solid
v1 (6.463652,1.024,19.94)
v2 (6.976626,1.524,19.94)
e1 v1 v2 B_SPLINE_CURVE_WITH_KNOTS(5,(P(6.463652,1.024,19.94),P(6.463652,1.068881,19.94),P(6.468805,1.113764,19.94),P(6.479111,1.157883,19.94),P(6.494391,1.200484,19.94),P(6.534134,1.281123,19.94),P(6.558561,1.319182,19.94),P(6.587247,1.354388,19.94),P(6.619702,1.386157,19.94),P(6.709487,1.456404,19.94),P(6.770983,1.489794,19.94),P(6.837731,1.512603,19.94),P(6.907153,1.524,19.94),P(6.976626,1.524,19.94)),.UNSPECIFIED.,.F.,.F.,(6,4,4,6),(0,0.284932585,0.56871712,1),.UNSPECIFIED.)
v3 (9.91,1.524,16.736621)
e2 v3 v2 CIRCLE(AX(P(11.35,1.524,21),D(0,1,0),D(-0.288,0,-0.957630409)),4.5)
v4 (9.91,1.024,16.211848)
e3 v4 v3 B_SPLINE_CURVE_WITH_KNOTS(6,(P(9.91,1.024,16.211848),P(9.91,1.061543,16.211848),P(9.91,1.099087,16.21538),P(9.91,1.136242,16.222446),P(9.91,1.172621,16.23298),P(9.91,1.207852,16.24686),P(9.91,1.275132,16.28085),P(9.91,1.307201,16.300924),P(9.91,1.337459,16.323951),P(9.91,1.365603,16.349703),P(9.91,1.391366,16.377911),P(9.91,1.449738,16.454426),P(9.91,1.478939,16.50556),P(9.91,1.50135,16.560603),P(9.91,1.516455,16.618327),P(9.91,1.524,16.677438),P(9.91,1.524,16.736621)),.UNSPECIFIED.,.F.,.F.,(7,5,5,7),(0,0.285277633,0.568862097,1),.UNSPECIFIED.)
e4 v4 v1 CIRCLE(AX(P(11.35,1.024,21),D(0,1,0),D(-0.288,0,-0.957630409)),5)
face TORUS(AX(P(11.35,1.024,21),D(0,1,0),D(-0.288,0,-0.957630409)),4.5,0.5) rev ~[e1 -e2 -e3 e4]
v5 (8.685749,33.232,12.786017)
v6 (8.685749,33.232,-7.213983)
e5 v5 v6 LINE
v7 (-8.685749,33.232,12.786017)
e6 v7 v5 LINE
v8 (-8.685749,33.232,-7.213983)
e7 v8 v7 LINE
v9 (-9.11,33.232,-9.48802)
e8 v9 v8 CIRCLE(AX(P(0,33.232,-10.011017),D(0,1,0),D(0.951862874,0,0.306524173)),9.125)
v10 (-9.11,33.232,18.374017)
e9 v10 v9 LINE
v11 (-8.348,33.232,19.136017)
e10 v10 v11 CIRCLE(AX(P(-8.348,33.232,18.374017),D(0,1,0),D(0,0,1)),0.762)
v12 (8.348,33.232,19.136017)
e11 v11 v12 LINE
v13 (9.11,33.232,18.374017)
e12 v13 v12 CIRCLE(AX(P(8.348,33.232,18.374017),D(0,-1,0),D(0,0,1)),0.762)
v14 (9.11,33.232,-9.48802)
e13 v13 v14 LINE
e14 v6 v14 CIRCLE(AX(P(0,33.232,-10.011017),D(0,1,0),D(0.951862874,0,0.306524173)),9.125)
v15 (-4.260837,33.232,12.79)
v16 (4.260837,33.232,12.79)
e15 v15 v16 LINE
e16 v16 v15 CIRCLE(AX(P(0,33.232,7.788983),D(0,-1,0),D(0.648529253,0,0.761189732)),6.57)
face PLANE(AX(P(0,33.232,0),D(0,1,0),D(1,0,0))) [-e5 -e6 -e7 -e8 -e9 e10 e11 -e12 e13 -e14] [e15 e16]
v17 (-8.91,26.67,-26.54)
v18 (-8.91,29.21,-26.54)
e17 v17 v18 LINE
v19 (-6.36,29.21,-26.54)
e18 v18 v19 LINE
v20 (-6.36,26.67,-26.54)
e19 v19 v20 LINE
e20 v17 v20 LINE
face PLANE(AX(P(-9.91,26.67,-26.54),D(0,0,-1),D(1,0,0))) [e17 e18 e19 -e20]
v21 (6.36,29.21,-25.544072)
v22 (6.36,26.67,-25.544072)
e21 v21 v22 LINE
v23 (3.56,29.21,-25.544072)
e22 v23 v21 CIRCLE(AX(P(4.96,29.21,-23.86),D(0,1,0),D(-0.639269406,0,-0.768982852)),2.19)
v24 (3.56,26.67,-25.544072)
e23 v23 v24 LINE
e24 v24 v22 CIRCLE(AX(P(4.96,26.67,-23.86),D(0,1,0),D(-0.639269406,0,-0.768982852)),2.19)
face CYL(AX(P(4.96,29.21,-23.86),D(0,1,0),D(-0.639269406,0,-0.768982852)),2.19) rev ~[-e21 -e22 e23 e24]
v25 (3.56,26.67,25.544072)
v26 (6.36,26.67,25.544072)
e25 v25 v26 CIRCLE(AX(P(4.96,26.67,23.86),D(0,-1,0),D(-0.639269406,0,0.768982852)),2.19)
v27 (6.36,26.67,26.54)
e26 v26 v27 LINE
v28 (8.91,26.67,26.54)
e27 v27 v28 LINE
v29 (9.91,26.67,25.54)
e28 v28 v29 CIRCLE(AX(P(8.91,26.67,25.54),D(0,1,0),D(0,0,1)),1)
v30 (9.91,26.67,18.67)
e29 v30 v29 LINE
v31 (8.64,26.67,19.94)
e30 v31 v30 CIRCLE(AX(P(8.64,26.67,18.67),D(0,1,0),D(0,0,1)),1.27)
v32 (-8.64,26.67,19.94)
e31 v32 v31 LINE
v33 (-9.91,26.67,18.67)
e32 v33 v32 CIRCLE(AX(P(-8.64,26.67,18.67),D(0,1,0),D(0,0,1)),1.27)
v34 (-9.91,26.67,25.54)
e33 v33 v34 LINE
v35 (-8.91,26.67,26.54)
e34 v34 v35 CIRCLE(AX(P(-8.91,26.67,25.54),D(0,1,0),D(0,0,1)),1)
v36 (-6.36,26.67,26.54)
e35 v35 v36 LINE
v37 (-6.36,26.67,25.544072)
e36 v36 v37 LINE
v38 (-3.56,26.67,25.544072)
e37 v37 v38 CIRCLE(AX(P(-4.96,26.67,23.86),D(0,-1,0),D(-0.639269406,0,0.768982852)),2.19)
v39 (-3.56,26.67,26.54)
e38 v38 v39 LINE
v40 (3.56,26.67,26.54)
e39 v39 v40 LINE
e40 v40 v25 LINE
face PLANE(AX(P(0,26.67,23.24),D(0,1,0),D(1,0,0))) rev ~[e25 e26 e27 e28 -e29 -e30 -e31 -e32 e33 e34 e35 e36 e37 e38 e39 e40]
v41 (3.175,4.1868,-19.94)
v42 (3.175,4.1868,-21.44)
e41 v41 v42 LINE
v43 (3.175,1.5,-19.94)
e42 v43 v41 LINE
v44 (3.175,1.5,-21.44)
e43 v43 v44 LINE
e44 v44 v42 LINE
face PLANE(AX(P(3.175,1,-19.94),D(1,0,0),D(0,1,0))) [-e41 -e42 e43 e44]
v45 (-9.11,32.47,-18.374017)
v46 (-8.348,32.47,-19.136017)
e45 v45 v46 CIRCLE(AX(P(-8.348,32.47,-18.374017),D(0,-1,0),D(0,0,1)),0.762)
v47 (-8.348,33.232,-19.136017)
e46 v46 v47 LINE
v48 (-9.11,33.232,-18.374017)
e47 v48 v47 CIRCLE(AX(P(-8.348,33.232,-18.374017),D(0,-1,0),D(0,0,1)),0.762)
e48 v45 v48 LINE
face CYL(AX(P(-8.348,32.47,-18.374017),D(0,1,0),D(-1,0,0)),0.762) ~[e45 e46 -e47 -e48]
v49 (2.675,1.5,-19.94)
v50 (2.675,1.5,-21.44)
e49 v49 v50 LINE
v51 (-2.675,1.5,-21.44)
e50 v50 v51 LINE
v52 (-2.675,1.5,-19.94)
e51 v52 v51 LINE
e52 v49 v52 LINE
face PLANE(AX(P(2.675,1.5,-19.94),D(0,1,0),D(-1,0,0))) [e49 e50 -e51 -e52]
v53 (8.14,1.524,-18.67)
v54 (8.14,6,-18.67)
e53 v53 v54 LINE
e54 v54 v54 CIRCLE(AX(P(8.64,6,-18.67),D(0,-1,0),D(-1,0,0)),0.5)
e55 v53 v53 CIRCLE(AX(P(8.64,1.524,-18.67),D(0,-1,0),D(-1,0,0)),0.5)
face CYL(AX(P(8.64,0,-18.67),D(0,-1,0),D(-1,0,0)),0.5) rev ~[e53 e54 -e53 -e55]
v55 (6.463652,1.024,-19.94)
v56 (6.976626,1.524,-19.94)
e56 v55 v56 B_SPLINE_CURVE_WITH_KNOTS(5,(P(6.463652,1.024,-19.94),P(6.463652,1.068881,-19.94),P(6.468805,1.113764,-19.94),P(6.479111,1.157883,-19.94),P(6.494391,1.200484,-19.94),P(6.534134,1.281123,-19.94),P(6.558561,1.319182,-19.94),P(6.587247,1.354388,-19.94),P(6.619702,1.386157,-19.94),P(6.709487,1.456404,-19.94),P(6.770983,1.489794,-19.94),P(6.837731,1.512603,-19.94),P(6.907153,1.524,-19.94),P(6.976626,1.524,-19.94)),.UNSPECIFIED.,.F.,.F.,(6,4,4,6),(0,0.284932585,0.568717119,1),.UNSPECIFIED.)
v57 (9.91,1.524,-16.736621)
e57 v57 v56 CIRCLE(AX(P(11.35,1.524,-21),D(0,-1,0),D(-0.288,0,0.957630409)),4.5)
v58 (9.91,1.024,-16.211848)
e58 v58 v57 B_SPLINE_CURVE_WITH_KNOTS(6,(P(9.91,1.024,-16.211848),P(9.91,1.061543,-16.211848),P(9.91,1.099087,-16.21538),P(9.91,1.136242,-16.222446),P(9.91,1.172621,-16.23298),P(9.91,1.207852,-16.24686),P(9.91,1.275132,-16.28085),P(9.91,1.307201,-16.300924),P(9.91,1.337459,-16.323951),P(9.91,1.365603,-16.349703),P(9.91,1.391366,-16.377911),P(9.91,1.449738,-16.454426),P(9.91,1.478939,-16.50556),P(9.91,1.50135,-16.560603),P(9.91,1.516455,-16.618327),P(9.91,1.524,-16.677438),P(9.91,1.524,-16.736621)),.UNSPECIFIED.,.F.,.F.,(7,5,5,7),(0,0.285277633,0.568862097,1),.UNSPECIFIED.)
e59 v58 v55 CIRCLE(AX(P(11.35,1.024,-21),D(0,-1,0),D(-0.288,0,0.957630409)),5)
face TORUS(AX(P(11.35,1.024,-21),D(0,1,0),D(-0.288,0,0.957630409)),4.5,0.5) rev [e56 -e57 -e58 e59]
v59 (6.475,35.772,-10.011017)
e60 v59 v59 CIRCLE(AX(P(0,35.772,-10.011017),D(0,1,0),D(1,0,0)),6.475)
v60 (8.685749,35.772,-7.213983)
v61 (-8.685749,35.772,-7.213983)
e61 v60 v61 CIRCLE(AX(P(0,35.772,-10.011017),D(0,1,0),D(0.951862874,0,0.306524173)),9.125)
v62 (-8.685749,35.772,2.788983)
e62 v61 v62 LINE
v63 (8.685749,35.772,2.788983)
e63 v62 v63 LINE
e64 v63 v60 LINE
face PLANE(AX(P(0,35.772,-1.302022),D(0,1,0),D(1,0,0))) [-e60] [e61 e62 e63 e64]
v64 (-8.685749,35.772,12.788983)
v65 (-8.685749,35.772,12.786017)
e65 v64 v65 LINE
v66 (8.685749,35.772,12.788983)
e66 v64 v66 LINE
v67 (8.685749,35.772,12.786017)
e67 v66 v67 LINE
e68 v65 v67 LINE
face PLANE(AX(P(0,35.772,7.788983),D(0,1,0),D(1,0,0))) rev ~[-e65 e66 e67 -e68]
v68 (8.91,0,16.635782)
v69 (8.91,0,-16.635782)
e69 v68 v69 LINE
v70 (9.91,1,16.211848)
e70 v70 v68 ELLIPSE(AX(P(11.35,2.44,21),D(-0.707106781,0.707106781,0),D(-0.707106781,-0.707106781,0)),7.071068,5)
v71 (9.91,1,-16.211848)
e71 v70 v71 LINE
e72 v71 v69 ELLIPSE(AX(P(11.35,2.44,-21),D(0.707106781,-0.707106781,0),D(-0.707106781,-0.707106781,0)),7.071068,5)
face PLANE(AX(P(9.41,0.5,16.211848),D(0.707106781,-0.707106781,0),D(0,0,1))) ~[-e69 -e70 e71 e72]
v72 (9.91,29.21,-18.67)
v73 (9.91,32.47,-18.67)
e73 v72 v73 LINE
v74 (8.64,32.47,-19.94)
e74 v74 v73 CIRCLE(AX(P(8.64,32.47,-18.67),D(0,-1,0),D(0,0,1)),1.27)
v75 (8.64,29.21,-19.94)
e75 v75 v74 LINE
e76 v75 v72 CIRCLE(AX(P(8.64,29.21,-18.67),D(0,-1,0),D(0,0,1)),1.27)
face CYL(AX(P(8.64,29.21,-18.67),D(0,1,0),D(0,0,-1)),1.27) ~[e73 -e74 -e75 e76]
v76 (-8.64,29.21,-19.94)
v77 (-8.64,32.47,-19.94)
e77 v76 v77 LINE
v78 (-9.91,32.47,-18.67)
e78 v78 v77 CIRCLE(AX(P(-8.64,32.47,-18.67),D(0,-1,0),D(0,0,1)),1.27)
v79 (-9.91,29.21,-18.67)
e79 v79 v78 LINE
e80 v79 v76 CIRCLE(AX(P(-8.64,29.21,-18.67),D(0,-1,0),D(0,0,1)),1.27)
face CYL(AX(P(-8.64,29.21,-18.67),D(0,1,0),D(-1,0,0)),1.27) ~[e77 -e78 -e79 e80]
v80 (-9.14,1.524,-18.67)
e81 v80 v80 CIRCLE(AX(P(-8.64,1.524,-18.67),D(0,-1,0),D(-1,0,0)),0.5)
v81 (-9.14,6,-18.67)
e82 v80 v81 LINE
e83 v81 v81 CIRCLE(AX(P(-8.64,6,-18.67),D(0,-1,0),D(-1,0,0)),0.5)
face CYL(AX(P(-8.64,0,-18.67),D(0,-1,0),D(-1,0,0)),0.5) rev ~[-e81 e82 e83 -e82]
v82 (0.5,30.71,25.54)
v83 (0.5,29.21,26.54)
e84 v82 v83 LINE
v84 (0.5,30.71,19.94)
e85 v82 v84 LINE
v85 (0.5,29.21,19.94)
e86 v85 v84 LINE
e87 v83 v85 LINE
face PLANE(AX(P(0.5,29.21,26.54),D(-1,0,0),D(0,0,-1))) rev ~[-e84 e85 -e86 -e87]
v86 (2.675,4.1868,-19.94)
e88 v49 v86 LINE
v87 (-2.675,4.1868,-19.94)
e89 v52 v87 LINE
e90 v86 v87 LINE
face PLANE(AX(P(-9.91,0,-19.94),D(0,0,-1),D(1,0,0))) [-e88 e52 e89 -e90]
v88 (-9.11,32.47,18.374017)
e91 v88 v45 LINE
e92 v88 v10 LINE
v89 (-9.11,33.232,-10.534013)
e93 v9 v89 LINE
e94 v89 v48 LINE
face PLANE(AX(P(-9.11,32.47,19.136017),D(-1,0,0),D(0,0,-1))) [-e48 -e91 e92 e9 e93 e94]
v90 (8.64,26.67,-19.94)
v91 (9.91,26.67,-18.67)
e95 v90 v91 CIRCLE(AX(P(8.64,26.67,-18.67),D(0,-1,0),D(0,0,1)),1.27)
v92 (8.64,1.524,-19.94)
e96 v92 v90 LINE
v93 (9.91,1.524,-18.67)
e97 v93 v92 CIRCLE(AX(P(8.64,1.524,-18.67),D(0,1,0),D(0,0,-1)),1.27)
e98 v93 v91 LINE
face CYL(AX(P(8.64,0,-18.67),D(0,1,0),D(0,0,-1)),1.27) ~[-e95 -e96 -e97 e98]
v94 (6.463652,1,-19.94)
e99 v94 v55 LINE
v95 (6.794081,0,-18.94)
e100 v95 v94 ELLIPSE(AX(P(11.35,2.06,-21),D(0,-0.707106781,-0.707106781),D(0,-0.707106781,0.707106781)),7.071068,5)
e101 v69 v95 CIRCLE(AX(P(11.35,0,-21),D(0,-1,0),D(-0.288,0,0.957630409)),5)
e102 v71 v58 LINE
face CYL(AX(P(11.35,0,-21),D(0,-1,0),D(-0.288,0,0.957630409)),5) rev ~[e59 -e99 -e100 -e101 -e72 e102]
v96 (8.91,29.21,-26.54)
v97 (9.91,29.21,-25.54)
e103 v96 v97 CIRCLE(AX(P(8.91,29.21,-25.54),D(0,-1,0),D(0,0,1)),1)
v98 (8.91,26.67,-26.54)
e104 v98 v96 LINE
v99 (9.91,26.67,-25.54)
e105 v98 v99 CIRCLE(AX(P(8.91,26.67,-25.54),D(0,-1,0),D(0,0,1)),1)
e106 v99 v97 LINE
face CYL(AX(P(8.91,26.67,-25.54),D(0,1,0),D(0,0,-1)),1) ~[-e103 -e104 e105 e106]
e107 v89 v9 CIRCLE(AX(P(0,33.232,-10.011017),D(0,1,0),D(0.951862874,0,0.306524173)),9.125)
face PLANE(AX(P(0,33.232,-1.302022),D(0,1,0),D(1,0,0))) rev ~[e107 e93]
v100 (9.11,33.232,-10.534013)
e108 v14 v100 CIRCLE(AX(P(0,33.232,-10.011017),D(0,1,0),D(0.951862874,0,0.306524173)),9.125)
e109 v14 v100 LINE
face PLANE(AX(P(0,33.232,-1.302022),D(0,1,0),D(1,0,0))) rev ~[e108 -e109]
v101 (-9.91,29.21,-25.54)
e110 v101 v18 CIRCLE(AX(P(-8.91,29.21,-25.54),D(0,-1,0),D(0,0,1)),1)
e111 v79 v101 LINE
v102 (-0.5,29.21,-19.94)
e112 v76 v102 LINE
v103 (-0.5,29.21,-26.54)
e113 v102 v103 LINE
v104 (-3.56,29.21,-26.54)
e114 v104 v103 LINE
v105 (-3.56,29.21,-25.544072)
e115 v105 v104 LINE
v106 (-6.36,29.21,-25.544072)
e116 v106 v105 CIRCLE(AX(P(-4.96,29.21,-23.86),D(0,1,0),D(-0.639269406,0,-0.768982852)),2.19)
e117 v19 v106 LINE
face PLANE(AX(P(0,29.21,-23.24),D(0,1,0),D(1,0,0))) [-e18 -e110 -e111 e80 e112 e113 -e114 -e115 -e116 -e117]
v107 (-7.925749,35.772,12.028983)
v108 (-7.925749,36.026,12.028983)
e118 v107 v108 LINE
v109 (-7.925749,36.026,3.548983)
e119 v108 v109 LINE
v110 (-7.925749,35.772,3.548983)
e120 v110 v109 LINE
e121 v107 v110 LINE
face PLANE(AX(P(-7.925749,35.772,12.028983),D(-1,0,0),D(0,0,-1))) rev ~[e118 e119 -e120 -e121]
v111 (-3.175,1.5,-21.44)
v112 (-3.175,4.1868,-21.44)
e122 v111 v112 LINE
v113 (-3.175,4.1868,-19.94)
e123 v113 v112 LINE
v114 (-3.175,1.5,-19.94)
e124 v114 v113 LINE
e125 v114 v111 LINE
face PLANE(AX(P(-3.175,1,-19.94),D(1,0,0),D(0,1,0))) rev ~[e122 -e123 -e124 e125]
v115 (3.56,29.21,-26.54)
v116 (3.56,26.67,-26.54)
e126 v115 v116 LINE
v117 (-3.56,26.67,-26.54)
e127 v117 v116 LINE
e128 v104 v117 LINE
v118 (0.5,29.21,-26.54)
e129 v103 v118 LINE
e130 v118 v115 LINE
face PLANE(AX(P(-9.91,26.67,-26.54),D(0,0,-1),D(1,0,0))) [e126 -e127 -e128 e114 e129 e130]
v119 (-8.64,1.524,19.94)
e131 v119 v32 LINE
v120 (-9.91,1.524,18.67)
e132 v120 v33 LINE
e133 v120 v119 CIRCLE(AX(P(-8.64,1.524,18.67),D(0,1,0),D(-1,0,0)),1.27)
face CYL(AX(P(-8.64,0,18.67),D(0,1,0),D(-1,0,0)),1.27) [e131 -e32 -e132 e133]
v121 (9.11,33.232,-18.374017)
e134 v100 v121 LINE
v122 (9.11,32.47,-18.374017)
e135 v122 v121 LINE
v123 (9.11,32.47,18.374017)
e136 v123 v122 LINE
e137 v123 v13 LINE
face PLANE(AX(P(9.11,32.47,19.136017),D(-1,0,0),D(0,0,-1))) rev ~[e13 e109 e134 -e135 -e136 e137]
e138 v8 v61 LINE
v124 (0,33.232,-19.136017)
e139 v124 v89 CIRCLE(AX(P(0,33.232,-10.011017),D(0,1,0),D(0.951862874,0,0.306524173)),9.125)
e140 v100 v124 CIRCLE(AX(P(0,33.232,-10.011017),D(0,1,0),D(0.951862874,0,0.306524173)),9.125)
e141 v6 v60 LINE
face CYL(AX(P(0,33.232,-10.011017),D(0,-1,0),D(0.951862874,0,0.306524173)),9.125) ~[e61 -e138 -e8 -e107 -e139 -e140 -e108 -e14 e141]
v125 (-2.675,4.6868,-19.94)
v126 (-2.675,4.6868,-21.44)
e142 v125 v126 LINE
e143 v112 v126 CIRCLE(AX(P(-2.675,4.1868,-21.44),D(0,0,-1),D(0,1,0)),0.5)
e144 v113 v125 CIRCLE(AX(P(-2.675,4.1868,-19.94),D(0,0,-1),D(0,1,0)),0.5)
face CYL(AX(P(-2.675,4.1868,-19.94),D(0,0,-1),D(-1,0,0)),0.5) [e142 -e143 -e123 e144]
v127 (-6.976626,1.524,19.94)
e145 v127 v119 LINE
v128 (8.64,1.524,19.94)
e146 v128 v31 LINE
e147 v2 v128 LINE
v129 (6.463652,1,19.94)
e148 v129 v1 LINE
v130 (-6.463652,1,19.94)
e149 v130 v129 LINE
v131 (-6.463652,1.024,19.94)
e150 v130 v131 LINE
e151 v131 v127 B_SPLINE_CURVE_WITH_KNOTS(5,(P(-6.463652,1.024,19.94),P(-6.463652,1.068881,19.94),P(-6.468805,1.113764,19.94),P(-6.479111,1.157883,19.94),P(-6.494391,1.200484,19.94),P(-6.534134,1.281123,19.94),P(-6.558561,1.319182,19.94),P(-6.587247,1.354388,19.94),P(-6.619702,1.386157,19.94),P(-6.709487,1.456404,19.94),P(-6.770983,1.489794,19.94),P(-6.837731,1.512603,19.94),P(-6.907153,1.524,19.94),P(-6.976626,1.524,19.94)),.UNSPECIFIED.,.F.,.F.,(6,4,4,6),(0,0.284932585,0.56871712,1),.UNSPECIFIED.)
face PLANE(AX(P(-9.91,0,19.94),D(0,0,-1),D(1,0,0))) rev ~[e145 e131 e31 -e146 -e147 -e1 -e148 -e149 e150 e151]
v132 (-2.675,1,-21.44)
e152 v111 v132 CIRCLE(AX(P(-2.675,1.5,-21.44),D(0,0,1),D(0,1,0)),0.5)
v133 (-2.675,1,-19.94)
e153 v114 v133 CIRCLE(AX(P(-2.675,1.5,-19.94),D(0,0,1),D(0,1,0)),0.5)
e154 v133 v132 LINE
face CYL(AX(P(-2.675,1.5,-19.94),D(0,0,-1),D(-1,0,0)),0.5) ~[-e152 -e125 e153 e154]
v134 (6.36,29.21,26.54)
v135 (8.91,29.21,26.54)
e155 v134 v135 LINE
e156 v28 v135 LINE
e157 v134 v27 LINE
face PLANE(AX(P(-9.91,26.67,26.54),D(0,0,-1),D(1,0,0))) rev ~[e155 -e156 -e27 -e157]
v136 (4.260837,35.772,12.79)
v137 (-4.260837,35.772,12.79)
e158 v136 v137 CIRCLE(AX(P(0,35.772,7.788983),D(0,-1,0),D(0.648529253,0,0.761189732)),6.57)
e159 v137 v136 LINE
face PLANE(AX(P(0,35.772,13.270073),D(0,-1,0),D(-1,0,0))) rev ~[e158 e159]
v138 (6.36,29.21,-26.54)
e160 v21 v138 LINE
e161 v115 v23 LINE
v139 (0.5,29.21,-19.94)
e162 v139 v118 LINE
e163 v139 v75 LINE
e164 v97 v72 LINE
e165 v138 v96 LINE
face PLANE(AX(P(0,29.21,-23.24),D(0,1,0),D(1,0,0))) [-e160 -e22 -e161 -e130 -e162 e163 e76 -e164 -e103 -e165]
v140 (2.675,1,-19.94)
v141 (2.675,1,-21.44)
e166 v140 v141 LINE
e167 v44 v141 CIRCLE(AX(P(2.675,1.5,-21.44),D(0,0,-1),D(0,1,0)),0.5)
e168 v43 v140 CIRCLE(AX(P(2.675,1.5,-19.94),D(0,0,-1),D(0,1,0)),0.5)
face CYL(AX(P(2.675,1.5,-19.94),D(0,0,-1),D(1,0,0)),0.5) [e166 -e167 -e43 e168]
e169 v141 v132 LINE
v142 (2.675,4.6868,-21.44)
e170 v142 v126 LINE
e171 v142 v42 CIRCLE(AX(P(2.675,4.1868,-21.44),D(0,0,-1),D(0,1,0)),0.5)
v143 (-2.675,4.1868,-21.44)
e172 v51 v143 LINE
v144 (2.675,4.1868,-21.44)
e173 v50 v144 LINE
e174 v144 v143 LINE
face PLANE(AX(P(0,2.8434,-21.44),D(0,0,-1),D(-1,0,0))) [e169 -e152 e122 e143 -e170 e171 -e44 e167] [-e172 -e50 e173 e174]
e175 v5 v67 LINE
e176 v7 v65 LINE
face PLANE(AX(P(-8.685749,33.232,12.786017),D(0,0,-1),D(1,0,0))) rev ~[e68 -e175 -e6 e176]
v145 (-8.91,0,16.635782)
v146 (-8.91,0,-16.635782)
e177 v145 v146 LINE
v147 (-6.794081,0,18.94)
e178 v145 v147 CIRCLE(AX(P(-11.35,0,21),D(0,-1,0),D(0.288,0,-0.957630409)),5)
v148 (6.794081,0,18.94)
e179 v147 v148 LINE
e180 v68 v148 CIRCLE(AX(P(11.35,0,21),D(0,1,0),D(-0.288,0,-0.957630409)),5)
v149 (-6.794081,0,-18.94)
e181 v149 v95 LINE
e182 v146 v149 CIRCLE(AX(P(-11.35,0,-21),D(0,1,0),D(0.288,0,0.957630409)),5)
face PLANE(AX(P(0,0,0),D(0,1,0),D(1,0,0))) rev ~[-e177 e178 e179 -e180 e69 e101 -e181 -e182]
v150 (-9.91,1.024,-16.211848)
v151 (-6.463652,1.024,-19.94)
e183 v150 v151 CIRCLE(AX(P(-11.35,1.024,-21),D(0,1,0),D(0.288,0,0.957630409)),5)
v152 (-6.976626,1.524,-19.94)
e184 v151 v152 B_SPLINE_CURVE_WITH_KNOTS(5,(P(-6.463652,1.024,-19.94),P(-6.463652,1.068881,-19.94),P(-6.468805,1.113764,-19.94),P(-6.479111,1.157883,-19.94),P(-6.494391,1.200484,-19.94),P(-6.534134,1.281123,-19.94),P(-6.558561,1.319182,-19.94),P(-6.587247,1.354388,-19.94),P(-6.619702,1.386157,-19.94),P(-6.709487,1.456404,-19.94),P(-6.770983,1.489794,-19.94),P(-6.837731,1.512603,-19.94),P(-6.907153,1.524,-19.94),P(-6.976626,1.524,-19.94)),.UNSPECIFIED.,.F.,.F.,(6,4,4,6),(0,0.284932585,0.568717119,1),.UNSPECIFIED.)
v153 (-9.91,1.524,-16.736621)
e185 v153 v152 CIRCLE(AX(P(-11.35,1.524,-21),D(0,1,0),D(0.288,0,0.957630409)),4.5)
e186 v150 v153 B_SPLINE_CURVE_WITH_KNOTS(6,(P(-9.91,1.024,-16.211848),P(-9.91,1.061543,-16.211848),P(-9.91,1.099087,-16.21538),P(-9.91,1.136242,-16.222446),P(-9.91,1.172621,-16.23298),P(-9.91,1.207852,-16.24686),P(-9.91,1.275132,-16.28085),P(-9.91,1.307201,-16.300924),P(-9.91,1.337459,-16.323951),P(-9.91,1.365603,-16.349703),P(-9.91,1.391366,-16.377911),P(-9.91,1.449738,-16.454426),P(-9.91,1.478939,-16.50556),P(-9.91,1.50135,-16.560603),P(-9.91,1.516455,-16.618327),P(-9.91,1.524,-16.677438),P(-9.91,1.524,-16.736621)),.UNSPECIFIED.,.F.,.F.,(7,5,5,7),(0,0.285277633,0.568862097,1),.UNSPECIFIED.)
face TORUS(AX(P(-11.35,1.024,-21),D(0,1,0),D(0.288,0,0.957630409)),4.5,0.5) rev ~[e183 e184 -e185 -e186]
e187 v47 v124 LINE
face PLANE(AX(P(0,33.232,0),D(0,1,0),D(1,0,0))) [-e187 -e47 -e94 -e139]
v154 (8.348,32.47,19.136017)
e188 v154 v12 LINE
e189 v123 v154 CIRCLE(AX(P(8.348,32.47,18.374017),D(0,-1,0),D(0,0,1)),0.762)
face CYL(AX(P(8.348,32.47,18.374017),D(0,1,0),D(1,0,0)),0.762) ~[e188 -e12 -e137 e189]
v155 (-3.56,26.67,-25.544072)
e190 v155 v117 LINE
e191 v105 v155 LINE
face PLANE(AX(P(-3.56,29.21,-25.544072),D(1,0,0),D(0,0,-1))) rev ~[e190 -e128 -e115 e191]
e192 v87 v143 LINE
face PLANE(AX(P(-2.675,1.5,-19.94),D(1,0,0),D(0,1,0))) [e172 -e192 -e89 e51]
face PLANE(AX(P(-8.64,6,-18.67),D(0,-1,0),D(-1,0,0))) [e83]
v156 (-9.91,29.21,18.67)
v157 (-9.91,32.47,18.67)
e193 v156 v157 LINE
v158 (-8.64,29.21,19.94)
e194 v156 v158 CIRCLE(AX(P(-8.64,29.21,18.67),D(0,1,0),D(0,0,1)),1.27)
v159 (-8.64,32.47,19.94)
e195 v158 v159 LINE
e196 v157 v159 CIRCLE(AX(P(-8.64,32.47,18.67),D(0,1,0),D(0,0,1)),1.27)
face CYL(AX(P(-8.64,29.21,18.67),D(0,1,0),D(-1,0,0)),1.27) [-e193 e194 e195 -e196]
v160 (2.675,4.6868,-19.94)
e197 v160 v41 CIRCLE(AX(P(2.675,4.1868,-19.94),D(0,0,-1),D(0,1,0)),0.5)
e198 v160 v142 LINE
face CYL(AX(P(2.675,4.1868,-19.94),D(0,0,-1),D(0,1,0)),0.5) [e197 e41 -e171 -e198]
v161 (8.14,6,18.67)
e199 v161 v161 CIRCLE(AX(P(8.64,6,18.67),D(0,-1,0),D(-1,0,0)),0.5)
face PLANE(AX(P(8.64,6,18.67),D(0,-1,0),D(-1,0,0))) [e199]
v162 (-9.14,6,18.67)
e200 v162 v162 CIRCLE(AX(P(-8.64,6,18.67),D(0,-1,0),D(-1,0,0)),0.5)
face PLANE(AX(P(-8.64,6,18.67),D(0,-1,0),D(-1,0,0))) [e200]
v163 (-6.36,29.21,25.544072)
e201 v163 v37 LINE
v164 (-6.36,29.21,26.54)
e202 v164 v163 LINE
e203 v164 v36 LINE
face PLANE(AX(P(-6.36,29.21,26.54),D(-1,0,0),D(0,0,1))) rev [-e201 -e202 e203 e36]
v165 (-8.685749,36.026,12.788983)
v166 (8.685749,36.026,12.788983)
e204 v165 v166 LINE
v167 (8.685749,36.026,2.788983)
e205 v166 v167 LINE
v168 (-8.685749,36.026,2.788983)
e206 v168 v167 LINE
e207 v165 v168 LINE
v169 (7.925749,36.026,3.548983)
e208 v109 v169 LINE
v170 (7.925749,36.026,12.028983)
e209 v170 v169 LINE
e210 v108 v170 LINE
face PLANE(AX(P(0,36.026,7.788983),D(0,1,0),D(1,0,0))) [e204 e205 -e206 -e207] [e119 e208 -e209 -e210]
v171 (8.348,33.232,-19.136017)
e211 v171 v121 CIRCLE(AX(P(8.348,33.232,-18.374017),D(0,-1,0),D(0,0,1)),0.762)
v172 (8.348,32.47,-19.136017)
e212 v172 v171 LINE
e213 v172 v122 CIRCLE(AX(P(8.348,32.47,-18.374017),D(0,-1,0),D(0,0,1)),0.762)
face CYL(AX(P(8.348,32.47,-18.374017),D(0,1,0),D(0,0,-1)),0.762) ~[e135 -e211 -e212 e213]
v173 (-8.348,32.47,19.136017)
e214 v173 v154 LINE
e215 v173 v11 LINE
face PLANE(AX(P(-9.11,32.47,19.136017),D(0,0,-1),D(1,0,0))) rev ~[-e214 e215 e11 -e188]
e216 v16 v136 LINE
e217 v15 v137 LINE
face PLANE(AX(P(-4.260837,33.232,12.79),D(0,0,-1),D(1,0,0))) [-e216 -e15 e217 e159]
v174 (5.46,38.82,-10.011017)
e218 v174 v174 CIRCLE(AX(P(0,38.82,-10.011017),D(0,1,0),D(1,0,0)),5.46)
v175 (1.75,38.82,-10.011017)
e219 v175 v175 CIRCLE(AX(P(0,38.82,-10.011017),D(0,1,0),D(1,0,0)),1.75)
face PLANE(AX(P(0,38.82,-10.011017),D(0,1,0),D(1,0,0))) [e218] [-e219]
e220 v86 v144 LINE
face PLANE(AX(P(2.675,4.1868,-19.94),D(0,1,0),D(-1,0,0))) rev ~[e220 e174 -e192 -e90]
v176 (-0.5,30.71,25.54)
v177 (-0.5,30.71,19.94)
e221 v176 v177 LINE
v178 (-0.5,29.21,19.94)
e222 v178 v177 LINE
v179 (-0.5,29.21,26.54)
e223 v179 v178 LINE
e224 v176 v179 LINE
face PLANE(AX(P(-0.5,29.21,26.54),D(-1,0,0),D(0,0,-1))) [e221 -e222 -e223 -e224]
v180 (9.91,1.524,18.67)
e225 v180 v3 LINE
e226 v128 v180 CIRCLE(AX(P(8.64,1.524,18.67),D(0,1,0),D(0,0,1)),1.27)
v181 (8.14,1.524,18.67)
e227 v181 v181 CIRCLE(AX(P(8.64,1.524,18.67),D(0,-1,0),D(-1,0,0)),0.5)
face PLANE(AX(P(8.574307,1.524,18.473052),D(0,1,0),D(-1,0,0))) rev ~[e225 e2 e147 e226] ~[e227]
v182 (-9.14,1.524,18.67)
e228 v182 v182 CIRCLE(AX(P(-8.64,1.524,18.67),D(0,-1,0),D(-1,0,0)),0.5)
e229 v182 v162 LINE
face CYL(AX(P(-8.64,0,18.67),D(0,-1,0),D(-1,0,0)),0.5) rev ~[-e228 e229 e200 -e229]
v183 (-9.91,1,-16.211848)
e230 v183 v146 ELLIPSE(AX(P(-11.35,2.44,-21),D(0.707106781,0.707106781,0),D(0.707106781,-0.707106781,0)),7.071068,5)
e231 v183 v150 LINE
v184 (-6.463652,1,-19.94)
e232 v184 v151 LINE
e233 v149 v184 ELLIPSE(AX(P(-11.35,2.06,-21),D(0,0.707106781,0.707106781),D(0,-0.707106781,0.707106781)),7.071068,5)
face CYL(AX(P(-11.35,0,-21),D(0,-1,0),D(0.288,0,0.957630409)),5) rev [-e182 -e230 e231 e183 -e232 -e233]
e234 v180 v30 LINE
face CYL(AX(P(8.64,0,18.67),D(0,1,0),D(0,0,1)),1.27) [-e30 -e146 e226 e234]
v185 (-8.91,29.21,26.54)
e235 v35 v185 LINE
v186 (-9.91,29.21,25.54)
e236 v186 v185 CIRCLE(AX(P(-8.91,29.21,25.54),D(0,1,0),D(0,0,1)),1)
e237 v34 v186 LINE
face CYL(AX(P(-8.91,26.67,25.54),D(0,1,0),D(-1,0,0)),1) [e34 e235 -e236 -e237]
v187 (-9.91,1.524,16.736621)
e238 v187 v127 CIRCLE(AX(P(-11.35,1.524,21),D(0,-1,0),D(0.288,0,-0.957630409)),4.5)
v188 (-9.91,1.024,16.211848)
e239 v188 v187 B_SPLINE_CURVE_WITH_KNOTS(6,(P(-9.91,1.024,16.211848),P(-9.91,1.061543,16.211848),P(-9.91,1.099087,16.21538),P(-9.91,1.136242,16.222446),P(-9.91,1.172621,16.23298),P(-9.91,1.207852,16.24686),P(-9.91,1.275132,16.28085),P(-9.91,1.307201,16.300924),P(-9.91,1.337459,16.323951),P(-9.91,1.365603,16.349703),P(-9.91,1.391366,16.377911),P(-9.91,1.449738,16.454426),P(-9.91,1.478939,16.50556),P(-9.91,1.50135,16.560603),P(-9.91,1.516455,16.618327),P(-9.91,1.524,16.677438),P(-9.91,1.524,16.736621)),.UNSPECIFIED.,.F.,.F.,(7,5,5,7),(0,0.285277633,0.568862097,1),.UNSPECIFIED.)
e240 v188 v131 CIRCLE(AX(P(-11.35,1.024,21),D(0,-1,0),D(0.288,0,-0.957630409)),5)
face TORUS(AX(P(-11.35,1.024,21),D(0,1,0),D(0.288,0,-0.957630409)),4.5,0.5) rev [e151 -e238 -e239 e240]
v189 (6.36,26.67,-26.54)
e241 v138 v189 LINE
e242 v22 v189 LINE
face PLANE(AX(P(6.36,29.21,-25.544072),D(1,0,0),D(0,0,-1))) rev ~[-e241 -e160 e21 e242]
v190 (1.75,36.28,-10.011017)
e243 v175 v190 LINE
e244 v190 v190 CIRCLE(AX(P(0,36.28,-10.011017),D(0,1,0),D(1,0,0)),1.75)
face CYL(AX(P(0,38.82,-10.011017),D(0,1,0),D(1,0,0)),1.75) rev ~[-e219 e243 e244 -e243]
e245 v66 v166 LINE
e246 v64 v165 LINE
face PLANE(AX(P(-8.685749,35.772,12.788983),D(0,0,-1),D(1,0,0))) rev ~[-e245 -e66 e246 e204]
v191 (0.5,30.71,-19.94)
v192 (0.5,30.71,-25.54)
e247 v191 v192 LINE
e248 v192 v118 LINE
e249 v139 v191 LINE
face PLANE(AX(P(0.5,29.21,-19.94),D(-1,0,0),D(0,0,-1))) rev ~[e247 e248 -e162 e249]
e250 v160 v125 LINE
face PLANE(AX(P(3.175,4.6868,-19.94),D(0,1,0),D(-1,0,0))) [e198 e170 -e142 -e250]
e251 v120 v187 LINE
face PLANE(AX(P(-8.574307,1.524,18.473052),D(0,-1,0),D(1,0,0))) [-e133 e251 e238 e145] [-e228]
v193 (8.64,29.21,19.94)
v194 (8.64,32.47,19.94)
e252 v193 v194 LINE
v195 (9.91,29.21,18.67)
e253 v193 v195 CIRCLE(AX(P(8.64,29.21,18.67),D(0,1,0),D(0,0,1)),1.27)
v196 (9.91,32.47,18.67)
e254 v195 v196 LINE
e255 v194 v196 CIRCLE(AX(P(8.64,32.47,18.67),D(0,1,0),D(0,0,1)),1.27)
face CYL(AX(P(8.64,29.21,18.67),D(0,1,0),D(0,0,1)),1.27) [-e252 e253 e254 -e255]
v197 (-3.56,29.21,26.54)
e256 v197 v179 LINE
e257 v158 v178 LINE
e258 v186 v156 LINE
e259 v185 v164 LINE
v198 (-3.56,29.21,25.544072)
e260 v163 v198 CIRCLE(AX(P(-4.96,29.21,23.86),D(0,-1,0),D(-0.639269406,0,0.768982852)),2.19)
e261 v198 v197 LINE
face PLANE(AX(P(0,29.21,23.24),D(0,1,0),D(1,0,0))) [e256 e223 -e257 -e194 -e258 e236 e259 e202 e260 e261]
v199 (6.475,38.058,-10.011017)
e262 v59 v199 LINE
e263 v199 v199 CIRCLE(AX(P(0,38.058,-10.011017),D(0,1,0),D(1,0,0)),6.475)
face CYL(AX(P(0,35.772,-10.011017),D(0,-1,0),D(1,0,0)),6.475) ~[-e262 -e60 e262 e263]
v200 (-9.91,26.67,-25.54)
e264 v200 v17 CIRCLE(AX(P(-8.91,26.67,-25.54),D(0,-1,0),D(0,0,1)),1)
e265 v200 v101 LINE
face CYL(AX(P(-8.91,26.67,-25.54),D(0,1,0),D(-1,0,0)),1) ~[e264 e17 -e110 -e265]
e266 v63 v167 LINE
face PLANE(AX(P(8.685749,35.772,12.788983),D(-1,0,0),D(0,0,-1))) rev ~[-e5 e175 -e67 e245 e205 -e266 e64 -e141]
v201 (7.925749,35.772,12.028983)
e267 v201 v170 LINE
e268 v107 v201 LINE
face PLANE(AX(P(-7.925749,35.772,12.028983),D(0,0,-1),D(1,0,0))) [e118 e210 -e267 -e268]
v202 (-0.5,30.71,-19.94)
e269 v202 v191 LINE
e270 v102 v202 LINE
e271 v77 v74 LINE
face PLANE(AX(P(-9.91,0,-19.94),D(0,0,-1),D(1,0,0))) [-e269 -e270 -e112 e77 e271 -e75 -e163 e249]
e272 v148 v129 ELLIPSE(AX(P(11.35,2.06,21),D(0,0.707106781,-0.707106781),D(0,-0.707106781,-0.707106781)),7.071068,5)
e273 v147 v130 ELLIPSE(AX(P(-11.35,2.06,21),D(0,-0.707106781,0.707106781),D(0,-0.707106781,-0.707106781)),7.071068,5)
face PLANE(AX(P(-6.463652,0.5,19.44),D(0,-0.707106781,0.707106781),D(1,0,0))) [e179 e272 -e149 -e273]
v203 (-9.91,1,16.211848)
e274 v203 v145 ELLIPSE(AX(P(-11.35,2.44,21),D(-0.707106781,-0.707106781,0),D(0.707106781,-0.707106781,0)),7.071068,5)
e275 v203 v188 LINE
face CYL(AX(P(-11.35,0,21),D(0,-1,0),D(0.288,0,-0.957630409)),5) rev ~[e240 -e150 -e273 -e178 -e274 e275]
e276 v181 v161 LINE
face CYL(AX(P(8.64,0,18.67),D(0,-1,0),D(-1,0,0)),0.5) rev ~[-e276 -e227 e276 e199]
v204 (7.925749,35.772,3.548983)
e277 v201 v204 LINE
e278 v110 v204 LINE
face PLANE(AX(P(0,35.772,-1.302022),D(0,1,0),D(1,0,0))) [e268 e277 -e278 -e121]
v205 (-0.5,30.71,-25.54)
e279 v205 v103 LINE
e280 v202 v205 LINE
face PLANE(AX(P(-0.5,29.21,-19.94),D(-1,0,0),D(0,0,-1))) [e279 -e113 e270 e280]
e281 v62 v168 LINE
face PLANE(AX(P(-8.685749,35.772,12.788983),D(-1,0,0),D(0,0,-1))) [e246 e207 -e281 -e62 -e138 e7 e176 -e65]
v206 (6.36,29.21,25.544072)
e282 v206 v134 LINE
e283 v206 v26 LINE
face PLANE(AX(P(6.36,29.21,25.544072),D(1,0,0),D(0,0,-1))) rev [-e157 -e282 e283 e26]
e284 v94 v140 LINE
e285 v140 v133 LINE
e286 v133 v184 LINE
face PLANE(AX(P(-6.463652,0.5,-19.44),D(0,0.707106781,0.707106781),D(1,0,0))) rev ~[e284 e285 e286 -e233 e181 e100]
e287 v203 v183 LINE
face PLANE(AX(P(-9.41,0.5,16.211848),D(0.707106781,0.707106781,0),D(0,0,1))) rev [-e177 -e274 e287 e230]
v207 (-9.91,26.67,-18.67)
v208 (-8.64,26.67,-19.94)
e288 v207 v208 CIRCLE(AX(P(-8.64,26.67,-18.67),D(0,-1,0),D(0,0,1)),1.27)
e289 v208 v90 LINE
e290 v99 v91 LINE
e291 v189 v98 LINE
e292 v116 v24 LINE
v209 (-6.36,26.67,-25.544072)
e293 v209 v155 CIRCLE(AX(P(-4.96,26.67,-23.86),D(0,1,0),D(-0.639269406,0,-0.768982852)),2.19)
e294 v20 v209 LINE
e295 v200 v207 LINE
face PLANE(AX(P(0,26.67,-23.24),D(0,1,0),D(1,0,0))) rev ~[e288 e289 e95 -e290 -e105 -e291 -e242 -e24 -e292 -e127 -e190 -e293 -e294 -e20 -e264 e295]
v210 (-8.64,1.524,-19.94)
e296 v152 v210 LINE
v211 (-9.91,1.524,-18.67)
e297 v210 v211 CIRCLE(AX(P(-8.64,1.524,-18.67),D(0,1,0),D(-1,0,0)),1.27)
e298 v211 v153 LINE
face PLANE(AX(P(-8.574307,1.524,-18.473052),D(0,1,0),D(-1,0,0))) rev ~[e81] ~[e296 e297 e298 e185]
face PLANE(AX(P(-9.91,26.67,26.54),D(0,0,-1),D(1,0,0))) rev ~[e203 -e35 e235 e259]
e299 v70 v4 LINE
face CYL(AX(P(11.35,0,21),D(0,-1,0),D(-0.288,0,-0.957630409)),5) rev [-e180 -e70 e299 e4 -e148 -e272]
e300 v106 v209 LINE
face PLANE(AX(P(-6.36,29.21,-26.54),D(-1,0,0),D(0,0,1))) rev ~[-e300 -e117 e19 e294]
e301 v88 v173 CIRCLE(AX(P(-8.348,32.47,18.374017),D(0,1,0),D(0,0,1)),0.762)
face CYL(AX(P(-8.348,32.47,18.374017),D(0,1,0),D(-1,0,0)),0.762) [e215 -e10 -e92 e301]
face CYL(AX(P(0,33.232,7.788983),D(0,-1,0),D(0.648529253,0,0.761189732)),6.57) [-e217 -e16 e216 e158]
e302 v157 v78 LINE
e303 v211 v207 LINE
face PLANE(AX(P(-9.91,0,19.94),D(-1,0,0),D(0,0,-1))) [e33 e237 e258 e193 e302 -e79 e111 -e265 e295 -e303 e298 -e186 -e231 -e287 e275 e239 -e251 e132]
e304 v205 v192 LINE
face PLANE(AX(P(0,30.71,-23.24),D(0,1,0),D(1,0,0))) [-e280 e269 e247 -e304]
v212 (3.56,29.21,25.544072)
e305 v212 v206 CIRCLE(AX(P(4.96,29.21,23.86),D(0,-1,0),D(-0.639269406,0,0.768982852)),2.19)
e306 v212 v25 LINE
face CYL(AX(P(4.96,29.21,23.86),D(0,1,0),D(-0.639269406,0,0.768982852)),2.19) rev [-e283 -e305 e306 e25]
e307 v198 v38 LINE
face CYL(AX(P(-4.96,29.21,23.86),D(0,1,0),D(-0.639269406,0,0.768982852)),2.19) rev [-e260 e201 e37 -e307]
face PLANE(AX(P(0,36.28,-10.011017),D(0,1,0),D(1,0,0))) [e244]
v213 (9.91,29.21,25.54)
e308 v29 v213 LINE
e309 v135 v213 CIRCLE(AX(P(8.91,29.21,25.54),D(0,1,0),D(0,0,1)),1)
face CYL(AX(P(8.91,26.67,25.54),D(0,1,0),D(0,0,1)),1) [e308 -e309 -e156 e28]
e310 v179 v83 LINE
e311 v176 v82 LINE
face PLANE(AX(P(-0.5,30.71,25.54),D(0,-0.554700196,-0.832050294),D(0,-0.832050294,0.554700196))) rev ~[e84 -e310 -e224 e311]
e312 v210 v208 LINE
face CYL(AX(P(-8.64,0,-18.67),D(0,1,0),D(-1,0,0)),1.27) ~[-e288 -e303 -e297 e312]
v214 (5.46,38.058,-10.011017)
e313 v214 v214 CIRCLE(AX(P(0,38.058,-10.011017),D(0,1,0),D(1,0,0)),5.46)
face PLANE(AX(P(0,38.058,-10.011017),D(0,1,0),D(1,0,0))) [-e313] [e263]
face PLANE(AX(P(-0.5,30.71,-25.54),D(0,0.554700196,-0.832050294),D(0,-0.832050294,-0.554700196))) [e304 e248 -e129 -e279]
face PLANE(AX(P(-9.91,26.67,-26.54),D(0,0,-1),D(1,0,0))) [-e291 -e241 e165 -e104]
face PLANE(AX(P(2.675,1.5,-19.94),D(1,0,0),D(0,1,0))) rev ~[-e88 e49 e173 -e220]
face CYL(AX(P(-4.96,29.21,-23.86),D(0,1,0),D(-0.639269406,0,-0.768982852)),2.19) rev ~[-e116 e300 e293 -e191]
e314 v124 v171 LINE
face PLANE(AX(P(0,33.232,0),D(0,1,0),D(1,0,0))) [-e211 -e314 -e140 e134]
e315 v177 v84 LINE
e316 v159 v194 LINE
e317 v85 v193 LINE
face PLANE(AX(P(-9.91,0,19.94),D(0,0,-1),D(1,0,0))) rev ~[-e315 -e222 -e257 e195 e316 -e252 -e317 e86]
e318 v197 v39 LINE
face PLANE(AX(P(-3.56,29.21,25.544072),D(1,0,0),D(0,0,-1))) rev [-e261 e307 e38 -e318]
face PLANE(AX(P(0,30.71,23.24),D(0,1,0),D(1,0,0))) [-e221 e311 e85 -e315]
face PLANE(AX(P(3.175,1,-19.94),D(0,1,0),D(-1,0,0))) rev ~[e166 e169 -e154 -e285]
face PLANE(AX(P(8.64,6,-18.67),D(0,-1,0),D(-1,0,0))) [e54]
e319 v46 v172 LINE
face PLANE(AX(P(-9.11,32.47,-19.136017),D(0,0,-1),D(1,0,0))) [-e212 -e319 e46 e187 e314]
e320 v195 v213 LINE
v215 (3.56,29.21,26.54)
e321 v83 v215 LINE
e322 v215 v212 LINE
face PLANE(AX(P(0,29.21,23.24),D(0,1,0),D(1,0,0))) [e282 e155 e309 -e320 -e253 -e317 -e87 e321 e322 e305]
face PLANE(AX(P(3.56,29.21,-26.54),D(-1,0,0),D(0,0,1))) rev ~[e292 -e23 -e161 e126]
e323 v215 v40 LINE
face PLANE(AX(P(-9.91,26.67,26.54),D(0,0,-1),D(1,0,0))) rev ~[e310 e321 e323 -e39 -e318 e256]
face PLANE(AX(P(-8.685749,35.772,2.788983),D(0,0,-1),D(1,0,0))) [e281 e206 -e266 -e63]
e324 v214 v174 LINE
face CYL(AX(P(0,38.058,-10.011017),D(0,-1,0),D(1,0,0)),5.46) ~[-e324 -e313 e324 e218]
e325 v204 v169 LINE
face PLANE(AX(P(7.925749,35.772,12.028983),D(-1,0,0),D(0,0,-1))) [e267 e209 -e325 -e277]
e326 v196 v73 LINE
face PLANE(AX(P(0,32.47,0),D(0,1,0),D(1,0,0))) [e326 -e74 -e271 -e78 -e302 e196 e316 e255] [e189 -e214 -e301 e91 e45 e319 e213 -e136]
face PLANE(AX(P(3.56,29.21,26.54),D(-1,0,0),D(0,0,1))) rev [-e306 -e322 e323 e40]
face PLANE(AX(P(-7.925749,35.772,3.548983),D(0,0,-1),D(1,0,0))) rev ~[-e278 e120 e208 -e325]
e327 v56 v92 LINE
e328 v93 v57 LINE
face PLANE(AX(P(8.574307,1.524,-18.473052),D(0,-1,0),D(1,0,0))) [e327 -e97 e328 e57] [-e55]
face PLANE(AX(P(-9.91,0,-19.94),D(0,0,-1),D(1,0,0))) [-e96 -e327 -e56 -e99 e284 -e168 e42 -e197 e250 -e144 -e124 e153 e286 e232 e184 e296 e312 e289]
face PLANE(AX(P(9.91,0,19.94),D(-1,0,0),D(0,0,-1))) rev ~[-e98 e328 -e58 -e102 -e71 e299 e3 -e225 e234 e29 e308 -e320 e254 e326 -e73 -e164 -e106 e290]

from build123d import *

# Parameters (mm, degrees)
SKETCH1_W               = 19.82
SKETCH1_H               = 39.88
BOSS_EXTRUDE1_DEPTH     = 36.02
SKETCH2_W               = 19.82
SKETCH2_H               = 6.6
BOSS_EXTRUDE2_DEPTH     = 2.54
CUT_EXTRUDE1_DEPTH      = 2.54
SKETCH4_W               = 1
SKETCH4_H               = 6.6
BOSS_EXTRUDE3_DEPTH     = 1.5
CUT_EXTRUDE2_DEPTH      = 10.41
CUT_EXTRUDE2_DEPTH_BACK = 11.41
SKETCH6_W               = 19.82
SKETCH6_H               = 39.88
CUT_EXTRUDE3_DEPTH      = 3.55
SKETCH7_W               = 18.22
SKETCH7_H               = 38.272033082
BOSS_EXTRUDE4_DEPTH     = 0.762
FILLET1_R               = 1.27
FILLET2_R               = 0.762
BOSS_EXTRUDE5_DEPTH     = 2.54
SKETCH9_R               = 6.475
BOSS_EXTRUDE6_DEPTH     = 2.286
SKETCH10_R              = 5.46
BOSS_EXTRUDE7_DEPTH     = 0.762
SKETCH11_R              = 1.75
CUT_EXTRUDE4_DEPTH      = 2.54
SKETCH12_W              = 17.371497452
SKETCH12_H              = 10
SKETCH12_W_2            = 15.851497452
SKETCH12_H_2            = 8.48
BOSS_EXTRUDE8_DEPTH     = 0.254
BOSS_EXTRUDE9_DEPTH     = 2.54
CUT_EXTRUDE5_DEPTH      = 1.524
SKETCH15_R              = 0.5
CUT_EXTRUDE6_DEPTH      = 6
CHAMFER1_SIZE           = 1
FILLET3_R               = 0.5
SKETCH16_W              = 6.35
SKETCH16_H              = 3.686799723
SKETCH16_W_2            = 5.35
SKETCH16_H_2            = 2.686799723
BOSS_EXTRUDE10_DEPTH    = 1.5
FILLET4_R               = 0.5
FILLET5_R               = 1


with BuildPart() as part:
    # Sketch1 → Boss-Extrude1 (new body)
    with BuildSketch(Plane(origin=(0, 0, 0), x_dir=(1, 0, 0), z_dir=(0, 1, 0))):
        Rectangle(SKETCH1_W, SKETCH1_H)
    extrude(amount=BOSS_EXTRUDE1_DEPTH)

    # Sketch2 → Boss-Extrude2 (add)
    with BuildSketch(Plane(origin=(0, 26.67, 0), x_dir=(1, 0, 0), z_dir=(0, 1, 0))):
        with Locations((0, 23.24)):
            Rectangle(SKETCH2_W, SKETCH2_H)
        with Locations((0, -23.24)):
            Rectangle(SKETCH2_W, SKETCH2_H)
    extrude(amount=BOSS_EXTRUDE2_DEPTH)

    # Sketch3 → Cut-Extrude1 (cut)
    with BuildSketch(Plane(origin=(0, 29.21, 0), x_dir=(1, 0, 0), z_dir=(0, 1, 0))):
        with BuildLine():
            Line((-3.56, 26.54), (-6.36, 26.54))
            Line((-6.36, 26.54), (-6.36, 25.544072445))
            ThreePointArc((-6.36, 25.544072445), (-4.96, 21.67), (-3.56, 25.544072445))
            Line((-3.56, 25.544072445), (-3.56, 26.54))
        make_face()
        with BuildLine():
            Line((6.36, 26.54), (3.56, 26.54))
            Line((3.56, 26.54), (3.56, 25.544072445))
            ThreePointArc((3.56, 25.544072445), (4.96, 21.67), (6.36, 25.544072445))
            Line((6.36, 25.544072445), (6.36, 26.54))
        make_face()
    cut_extrude1 = extrude(amount=-CUT_EXTRUDE1_DEPTH, mode=Mode.SUBTRACT)

    # Mirror1: Cut-Extrude1 across plane
    add(cut_extrude1.mirror(Plane.XY), mode=Mode.SUBTRACT)

    # Sketch4 → Boss-Extrude3 (add)
    with BuildSketch(Plane(origin=(0, 29.21, 0), x_dir=(1, 0, 0), z_dir=(0, 1, 0))):
        with Locations((0, 23.24)):
            Rectangle(SKETCH4_W, SKETCH4_H)
        with Locations((0, -23.24)):
            Rectangle(SKETCH4_W, SKETCH4_H)
    extrude(amount=BOSS_EXTRUDE3_DEPTH)

    # Sketch5 → Cut-Extrude2 (cut, two sides)
    with BuildSketch(Plane.ZY.offset(0.5)) as cut_extrude2_sk:
        Polygon((-26.54, 30.71), (-25.54, 30.71), (-26.54, 29.21), align=None)
        Polygon((25.54, 30.71), (26.54, 29.21), (26.54, 30.71), align=None)
    extrude(amount=CUT_EXTRUDE2_DEPTH, mode=Mode.SUBTRACT)
    extrude(cut_extrude2_sk.sketch, amount=-CUT_EXTRUDE2_DEPTH_BACK, mode=Mode.SUBTRACT)

    # Sketch6 → Cut-Extrude3 (cut)
    with BuildSketch(Plane(origin=(0, 36.02, 0), x_dir=(1, 0, 0), z_dir=(0, 1, 0))):
        Rectangle(SKETCH6_W, SKETCH6_H)
    extrude(amount=-CUT_EXTRUDE3_DEPTH, mode=Mode.SUBTRACT)

    # Sketch7 → Boss-Extrude4 (add)
    with BuildSketch(Plane(origin=(0, 32.47, 0), x_dir=(1, 0, 0), z_dir=(0, 1, 0))):
        Rectangle(SKETCH7_W, SKETCH7_H)
    extrude(amount=BOSS_EXTRUDE4_DEPTH)

    # Fillet1
    fillet1_edges = [part.edges().sort_by_distance(p)[0] for p in [
        (-9.91, 13.335, -19.94),
        (9.91, 13.335, -19.94),
        (9.91, 30.84, -19.94),
        (9.91, 30.84, 19.94),
        (-9.91, 30.84, 19.94),
        (-9.91, 30.84, -19.94),
        (9.91, 13.335, 19.94),
        (-9.91, 13.335, 19.94),
    ]]
    fillet(fillet1_edges, radius=FILLET1_R)

    # Fillet2
    fillet2_edges = [part.edges().sort_by_distance(p)[0] for p in [
        (9.11, 32.851, -19.136016541),
        (-9.11, 32.851, -19.136016541),
        (-9.11, 32.851, 19.136016541),
        (9.11, 32.851, 19.136016541),
    ]]
    fillet(fillet2_edges, radius=FILLET2_R)

    # Sketch8 → Boss-Extrude5 (add)
    with BuildSketch(Plane(origin=(0, 33.232, 0), x_dir=(1, 0, 0), z_dir=(0, 1, 0))):
        with BuildLine():
            Line((-8.685748726, -12.786016541), (8.685748726, -12.786016541))
            Line((8.685748726, -12.786016541), (8.685748726, 7.213983459))
            ThreePointArc((8.685748726, 7.213983459), (0, 19.136016541), (-8.685748726, 7.213983459))
            Line((-8.685748726, 7.213983459), (-8.685748726, -12.786016541))
        make_face()
    extrude(amount=BOSS_EXTRUDE5_DEPTH)

    # Sketch9 → Boss-Extrude6 (add)
    with BuildSketch(Plane(origin=(0, 35.772, 0), x_dir=(1, 0, 0), z_dir=(0, 1, 0))):
        with Locations((0, 10.011016541)):
            Circle(SKETCH9_R)
    extrude(amount=BOSS_EXTRUDE6_DEPTH)

    # Sketch10 → Boss-Extrude7 (add)
    with BuildSketch(Plane(origin=(0, 38.058, 0), x_dir=(1, 0, 0), z_dir=(0, 1, 0))):
        with Locations((0, 10.011016541)):
            Circle(SKETCH10_R)
    extrude(amount=BOSS_EXTRUDE7_DEPTH)

    # Sketch11 → Cut-Extrude4 (cut)
    with BuildSketch(Plane(origin=(0, 38.82, 0), x_dir=(1, 0, 0), z_dir=(0, 1, 0))):
        with Locations((0, 10.011016541)):
            Circle(SKETCH11_R)
    extrude(amount=-CUT_EXTRUDE4_DEPTH, mode=Mode.SUBTRACT)

    # Sketch12 → Boss-Extrude8 (add)
    with BuildSketch(Plane(origin=(0, 35.772, 0), x_dir=(1, 0, 0), z_dir=(0, 1, 0))):
        with Locations((0, -7.788983459)):
            Rectangle(SKETCH12_W, SKETCH12_H)
        with Locations((0, -7.788983459)):
            Rectangle(SKETCH12_W_2, SKETCH12_H_2, mode=Mode.SUBTRACT)
    extrude(amount=BOSS_EXTRUDE8_DEPTH)

    # Sketch13 → Boss-Extrude9 (add)
    with BuildSketch(Plane(origin=(0, 33.232, 0), x_dir=(1, 0, 0), z_dir=(0, 1, 0))):
        with BuildLine():
            Line((-4.260837189, -12.79), (4.260837189, -12.79))
            ThreePointArc((4.260837189, -12.79), (0, -14.358983459), (-4.260837189, -12.79))
        make_face()
    extrude(amount=BOSS_EXTRUDE9_DEPTH)

    # Sketch14 → Cut-Extrude5 (cut)
    with BuildSketch(Plane.XZ):
        with BuildLine():
            Line((6.46365167, -19.94), (9.91, -19.94))
            Line((9.91, -19.94), (9.91, -16.211847956))
            ThreePointArc((9.91, -16.211847956), (7.678426739, -17.605953774), (6.46365167, -19.94))
        make_face()
        with BuildLine():
            Line((-9.91, -19.94), (-9.91, -16.211847956))
            ThreePointArc((-9.91, -16.211847956), (-7.678426739, -17.605953774), (-6.46365167, -19.94))
            Line((-6.46365167, -19.94), (-9.91, -19.94))
        make_face()
        with BuildLine():
            Line((-6.46365167, 19.94), (-9.91, 19.94))
            Line((-9.91, 19.94), (-9.91, 16.211847956))
            ThreePointArc((-9.91, 16.211847956), (-7.678426739, 17.605953774), (-6.46365167, 19.94))
        make_face()
        with BuildLine():
            Line((9.91, 19.94), (9.91, 16.211847956))
            ThreePointArc((9.91, 16.211847956), (7.678426739, 17.605953774), (6.46365167, 19.94))
            Line((6.46365167, 19.94), (9.91, 19.94))
        make_face()
    extrude(amount=-CUT_EXTRUDE5_DEPTH, mode=Mode.SUBTRACT)

    # Sketch15 → Cut-Extrude6 (cut)
    with BuildSketch(Plane(origin=(0, 0, 0), x_dir=(-1, 0, 0), z_dir=(0, -1, 0))):
        with Locations((-8.64, 18.67)):
            Circle(SKETCH15_R)
        with Locations((8.64, 18.67)):
            Circle(SKETCH15_R)
        with Locations((8.64, -18.67)):
            Circle(SKETCH15_R)
        with Locations((-8.64, -18.67)):
            Circle(SKETCH15_R)
    extrude(amount=-CUT_EXTRUDE6_DEPTH, mode=Mode.SUBTRACT)

    # Chamfer1
    chamfer1_edges = [part.edges().sort_by_distance(p)[0] for p in [
        (0, 0, 19.94),
        (-9.91, 0, 0),
        (0, 0, -19.94),
        (9.91, 0, 0),
    ]]
    chamfer(chamfer1_edges, length=CHAMFER1_SIZE)

    # Fillet3
    fillet3_edges = [part.edges().sort_by_distance(p)[0] for p in [
        (7.678426739, 1.524, 17.605953774),
        (-7.678426739, 1.524, 17.605953774),
        (-7.678426739, 1.524, -17.605953774),
        (7.678426739, 1.524, -17.605953774),
    ]]
    fillet(fillet3_edges, radius=FILLET3_R)

    # Sketch16 → Boss-Extrude10 (add)
    with BuildSketch(Plane(origin=(0, 0, -19.94), x_dir=(-1, 0, 0), z_dir=(0, 0, -1))):
        with Locations((0, 2.843399862)):
            Rectangle(SKETCH16_W, SKETCH16_H)
        with Locations((0, 2.843399862)):
            Rectangle(SKETCH16_W_2, SKETCH16_H_2, mode=Mode.SUBTRACT)
    extrude(amount=BOSS_EXTRUDE10_DEPTH)

    # Fillet4
    fillet4_edges = [part.edges().sort_by_distance(p)[0] for p in [
        (3.175, 4.686799723, -20.69),
        (3.175, 1, -20.69),
        (-3.175, 1, -20.69),
        (-3.175, 4.686799723, -20.69),
    ]]
    fillet(fillet4_edges, radius=FILLET4_R)

    # Fillet5
    fillet5_edges = [part.edges().sort_by_distance(p)[0] for p in [
        (-9.91, 27.94, -26.54),
        (9.91, 27.94, -26.54),
        (-9.91, 27.94, 26.54),
        (9.91, 27.94, 26.54),
    ]]
    fillet(fillet5_edges, radius=FILLET5_R)


solid = part.part
